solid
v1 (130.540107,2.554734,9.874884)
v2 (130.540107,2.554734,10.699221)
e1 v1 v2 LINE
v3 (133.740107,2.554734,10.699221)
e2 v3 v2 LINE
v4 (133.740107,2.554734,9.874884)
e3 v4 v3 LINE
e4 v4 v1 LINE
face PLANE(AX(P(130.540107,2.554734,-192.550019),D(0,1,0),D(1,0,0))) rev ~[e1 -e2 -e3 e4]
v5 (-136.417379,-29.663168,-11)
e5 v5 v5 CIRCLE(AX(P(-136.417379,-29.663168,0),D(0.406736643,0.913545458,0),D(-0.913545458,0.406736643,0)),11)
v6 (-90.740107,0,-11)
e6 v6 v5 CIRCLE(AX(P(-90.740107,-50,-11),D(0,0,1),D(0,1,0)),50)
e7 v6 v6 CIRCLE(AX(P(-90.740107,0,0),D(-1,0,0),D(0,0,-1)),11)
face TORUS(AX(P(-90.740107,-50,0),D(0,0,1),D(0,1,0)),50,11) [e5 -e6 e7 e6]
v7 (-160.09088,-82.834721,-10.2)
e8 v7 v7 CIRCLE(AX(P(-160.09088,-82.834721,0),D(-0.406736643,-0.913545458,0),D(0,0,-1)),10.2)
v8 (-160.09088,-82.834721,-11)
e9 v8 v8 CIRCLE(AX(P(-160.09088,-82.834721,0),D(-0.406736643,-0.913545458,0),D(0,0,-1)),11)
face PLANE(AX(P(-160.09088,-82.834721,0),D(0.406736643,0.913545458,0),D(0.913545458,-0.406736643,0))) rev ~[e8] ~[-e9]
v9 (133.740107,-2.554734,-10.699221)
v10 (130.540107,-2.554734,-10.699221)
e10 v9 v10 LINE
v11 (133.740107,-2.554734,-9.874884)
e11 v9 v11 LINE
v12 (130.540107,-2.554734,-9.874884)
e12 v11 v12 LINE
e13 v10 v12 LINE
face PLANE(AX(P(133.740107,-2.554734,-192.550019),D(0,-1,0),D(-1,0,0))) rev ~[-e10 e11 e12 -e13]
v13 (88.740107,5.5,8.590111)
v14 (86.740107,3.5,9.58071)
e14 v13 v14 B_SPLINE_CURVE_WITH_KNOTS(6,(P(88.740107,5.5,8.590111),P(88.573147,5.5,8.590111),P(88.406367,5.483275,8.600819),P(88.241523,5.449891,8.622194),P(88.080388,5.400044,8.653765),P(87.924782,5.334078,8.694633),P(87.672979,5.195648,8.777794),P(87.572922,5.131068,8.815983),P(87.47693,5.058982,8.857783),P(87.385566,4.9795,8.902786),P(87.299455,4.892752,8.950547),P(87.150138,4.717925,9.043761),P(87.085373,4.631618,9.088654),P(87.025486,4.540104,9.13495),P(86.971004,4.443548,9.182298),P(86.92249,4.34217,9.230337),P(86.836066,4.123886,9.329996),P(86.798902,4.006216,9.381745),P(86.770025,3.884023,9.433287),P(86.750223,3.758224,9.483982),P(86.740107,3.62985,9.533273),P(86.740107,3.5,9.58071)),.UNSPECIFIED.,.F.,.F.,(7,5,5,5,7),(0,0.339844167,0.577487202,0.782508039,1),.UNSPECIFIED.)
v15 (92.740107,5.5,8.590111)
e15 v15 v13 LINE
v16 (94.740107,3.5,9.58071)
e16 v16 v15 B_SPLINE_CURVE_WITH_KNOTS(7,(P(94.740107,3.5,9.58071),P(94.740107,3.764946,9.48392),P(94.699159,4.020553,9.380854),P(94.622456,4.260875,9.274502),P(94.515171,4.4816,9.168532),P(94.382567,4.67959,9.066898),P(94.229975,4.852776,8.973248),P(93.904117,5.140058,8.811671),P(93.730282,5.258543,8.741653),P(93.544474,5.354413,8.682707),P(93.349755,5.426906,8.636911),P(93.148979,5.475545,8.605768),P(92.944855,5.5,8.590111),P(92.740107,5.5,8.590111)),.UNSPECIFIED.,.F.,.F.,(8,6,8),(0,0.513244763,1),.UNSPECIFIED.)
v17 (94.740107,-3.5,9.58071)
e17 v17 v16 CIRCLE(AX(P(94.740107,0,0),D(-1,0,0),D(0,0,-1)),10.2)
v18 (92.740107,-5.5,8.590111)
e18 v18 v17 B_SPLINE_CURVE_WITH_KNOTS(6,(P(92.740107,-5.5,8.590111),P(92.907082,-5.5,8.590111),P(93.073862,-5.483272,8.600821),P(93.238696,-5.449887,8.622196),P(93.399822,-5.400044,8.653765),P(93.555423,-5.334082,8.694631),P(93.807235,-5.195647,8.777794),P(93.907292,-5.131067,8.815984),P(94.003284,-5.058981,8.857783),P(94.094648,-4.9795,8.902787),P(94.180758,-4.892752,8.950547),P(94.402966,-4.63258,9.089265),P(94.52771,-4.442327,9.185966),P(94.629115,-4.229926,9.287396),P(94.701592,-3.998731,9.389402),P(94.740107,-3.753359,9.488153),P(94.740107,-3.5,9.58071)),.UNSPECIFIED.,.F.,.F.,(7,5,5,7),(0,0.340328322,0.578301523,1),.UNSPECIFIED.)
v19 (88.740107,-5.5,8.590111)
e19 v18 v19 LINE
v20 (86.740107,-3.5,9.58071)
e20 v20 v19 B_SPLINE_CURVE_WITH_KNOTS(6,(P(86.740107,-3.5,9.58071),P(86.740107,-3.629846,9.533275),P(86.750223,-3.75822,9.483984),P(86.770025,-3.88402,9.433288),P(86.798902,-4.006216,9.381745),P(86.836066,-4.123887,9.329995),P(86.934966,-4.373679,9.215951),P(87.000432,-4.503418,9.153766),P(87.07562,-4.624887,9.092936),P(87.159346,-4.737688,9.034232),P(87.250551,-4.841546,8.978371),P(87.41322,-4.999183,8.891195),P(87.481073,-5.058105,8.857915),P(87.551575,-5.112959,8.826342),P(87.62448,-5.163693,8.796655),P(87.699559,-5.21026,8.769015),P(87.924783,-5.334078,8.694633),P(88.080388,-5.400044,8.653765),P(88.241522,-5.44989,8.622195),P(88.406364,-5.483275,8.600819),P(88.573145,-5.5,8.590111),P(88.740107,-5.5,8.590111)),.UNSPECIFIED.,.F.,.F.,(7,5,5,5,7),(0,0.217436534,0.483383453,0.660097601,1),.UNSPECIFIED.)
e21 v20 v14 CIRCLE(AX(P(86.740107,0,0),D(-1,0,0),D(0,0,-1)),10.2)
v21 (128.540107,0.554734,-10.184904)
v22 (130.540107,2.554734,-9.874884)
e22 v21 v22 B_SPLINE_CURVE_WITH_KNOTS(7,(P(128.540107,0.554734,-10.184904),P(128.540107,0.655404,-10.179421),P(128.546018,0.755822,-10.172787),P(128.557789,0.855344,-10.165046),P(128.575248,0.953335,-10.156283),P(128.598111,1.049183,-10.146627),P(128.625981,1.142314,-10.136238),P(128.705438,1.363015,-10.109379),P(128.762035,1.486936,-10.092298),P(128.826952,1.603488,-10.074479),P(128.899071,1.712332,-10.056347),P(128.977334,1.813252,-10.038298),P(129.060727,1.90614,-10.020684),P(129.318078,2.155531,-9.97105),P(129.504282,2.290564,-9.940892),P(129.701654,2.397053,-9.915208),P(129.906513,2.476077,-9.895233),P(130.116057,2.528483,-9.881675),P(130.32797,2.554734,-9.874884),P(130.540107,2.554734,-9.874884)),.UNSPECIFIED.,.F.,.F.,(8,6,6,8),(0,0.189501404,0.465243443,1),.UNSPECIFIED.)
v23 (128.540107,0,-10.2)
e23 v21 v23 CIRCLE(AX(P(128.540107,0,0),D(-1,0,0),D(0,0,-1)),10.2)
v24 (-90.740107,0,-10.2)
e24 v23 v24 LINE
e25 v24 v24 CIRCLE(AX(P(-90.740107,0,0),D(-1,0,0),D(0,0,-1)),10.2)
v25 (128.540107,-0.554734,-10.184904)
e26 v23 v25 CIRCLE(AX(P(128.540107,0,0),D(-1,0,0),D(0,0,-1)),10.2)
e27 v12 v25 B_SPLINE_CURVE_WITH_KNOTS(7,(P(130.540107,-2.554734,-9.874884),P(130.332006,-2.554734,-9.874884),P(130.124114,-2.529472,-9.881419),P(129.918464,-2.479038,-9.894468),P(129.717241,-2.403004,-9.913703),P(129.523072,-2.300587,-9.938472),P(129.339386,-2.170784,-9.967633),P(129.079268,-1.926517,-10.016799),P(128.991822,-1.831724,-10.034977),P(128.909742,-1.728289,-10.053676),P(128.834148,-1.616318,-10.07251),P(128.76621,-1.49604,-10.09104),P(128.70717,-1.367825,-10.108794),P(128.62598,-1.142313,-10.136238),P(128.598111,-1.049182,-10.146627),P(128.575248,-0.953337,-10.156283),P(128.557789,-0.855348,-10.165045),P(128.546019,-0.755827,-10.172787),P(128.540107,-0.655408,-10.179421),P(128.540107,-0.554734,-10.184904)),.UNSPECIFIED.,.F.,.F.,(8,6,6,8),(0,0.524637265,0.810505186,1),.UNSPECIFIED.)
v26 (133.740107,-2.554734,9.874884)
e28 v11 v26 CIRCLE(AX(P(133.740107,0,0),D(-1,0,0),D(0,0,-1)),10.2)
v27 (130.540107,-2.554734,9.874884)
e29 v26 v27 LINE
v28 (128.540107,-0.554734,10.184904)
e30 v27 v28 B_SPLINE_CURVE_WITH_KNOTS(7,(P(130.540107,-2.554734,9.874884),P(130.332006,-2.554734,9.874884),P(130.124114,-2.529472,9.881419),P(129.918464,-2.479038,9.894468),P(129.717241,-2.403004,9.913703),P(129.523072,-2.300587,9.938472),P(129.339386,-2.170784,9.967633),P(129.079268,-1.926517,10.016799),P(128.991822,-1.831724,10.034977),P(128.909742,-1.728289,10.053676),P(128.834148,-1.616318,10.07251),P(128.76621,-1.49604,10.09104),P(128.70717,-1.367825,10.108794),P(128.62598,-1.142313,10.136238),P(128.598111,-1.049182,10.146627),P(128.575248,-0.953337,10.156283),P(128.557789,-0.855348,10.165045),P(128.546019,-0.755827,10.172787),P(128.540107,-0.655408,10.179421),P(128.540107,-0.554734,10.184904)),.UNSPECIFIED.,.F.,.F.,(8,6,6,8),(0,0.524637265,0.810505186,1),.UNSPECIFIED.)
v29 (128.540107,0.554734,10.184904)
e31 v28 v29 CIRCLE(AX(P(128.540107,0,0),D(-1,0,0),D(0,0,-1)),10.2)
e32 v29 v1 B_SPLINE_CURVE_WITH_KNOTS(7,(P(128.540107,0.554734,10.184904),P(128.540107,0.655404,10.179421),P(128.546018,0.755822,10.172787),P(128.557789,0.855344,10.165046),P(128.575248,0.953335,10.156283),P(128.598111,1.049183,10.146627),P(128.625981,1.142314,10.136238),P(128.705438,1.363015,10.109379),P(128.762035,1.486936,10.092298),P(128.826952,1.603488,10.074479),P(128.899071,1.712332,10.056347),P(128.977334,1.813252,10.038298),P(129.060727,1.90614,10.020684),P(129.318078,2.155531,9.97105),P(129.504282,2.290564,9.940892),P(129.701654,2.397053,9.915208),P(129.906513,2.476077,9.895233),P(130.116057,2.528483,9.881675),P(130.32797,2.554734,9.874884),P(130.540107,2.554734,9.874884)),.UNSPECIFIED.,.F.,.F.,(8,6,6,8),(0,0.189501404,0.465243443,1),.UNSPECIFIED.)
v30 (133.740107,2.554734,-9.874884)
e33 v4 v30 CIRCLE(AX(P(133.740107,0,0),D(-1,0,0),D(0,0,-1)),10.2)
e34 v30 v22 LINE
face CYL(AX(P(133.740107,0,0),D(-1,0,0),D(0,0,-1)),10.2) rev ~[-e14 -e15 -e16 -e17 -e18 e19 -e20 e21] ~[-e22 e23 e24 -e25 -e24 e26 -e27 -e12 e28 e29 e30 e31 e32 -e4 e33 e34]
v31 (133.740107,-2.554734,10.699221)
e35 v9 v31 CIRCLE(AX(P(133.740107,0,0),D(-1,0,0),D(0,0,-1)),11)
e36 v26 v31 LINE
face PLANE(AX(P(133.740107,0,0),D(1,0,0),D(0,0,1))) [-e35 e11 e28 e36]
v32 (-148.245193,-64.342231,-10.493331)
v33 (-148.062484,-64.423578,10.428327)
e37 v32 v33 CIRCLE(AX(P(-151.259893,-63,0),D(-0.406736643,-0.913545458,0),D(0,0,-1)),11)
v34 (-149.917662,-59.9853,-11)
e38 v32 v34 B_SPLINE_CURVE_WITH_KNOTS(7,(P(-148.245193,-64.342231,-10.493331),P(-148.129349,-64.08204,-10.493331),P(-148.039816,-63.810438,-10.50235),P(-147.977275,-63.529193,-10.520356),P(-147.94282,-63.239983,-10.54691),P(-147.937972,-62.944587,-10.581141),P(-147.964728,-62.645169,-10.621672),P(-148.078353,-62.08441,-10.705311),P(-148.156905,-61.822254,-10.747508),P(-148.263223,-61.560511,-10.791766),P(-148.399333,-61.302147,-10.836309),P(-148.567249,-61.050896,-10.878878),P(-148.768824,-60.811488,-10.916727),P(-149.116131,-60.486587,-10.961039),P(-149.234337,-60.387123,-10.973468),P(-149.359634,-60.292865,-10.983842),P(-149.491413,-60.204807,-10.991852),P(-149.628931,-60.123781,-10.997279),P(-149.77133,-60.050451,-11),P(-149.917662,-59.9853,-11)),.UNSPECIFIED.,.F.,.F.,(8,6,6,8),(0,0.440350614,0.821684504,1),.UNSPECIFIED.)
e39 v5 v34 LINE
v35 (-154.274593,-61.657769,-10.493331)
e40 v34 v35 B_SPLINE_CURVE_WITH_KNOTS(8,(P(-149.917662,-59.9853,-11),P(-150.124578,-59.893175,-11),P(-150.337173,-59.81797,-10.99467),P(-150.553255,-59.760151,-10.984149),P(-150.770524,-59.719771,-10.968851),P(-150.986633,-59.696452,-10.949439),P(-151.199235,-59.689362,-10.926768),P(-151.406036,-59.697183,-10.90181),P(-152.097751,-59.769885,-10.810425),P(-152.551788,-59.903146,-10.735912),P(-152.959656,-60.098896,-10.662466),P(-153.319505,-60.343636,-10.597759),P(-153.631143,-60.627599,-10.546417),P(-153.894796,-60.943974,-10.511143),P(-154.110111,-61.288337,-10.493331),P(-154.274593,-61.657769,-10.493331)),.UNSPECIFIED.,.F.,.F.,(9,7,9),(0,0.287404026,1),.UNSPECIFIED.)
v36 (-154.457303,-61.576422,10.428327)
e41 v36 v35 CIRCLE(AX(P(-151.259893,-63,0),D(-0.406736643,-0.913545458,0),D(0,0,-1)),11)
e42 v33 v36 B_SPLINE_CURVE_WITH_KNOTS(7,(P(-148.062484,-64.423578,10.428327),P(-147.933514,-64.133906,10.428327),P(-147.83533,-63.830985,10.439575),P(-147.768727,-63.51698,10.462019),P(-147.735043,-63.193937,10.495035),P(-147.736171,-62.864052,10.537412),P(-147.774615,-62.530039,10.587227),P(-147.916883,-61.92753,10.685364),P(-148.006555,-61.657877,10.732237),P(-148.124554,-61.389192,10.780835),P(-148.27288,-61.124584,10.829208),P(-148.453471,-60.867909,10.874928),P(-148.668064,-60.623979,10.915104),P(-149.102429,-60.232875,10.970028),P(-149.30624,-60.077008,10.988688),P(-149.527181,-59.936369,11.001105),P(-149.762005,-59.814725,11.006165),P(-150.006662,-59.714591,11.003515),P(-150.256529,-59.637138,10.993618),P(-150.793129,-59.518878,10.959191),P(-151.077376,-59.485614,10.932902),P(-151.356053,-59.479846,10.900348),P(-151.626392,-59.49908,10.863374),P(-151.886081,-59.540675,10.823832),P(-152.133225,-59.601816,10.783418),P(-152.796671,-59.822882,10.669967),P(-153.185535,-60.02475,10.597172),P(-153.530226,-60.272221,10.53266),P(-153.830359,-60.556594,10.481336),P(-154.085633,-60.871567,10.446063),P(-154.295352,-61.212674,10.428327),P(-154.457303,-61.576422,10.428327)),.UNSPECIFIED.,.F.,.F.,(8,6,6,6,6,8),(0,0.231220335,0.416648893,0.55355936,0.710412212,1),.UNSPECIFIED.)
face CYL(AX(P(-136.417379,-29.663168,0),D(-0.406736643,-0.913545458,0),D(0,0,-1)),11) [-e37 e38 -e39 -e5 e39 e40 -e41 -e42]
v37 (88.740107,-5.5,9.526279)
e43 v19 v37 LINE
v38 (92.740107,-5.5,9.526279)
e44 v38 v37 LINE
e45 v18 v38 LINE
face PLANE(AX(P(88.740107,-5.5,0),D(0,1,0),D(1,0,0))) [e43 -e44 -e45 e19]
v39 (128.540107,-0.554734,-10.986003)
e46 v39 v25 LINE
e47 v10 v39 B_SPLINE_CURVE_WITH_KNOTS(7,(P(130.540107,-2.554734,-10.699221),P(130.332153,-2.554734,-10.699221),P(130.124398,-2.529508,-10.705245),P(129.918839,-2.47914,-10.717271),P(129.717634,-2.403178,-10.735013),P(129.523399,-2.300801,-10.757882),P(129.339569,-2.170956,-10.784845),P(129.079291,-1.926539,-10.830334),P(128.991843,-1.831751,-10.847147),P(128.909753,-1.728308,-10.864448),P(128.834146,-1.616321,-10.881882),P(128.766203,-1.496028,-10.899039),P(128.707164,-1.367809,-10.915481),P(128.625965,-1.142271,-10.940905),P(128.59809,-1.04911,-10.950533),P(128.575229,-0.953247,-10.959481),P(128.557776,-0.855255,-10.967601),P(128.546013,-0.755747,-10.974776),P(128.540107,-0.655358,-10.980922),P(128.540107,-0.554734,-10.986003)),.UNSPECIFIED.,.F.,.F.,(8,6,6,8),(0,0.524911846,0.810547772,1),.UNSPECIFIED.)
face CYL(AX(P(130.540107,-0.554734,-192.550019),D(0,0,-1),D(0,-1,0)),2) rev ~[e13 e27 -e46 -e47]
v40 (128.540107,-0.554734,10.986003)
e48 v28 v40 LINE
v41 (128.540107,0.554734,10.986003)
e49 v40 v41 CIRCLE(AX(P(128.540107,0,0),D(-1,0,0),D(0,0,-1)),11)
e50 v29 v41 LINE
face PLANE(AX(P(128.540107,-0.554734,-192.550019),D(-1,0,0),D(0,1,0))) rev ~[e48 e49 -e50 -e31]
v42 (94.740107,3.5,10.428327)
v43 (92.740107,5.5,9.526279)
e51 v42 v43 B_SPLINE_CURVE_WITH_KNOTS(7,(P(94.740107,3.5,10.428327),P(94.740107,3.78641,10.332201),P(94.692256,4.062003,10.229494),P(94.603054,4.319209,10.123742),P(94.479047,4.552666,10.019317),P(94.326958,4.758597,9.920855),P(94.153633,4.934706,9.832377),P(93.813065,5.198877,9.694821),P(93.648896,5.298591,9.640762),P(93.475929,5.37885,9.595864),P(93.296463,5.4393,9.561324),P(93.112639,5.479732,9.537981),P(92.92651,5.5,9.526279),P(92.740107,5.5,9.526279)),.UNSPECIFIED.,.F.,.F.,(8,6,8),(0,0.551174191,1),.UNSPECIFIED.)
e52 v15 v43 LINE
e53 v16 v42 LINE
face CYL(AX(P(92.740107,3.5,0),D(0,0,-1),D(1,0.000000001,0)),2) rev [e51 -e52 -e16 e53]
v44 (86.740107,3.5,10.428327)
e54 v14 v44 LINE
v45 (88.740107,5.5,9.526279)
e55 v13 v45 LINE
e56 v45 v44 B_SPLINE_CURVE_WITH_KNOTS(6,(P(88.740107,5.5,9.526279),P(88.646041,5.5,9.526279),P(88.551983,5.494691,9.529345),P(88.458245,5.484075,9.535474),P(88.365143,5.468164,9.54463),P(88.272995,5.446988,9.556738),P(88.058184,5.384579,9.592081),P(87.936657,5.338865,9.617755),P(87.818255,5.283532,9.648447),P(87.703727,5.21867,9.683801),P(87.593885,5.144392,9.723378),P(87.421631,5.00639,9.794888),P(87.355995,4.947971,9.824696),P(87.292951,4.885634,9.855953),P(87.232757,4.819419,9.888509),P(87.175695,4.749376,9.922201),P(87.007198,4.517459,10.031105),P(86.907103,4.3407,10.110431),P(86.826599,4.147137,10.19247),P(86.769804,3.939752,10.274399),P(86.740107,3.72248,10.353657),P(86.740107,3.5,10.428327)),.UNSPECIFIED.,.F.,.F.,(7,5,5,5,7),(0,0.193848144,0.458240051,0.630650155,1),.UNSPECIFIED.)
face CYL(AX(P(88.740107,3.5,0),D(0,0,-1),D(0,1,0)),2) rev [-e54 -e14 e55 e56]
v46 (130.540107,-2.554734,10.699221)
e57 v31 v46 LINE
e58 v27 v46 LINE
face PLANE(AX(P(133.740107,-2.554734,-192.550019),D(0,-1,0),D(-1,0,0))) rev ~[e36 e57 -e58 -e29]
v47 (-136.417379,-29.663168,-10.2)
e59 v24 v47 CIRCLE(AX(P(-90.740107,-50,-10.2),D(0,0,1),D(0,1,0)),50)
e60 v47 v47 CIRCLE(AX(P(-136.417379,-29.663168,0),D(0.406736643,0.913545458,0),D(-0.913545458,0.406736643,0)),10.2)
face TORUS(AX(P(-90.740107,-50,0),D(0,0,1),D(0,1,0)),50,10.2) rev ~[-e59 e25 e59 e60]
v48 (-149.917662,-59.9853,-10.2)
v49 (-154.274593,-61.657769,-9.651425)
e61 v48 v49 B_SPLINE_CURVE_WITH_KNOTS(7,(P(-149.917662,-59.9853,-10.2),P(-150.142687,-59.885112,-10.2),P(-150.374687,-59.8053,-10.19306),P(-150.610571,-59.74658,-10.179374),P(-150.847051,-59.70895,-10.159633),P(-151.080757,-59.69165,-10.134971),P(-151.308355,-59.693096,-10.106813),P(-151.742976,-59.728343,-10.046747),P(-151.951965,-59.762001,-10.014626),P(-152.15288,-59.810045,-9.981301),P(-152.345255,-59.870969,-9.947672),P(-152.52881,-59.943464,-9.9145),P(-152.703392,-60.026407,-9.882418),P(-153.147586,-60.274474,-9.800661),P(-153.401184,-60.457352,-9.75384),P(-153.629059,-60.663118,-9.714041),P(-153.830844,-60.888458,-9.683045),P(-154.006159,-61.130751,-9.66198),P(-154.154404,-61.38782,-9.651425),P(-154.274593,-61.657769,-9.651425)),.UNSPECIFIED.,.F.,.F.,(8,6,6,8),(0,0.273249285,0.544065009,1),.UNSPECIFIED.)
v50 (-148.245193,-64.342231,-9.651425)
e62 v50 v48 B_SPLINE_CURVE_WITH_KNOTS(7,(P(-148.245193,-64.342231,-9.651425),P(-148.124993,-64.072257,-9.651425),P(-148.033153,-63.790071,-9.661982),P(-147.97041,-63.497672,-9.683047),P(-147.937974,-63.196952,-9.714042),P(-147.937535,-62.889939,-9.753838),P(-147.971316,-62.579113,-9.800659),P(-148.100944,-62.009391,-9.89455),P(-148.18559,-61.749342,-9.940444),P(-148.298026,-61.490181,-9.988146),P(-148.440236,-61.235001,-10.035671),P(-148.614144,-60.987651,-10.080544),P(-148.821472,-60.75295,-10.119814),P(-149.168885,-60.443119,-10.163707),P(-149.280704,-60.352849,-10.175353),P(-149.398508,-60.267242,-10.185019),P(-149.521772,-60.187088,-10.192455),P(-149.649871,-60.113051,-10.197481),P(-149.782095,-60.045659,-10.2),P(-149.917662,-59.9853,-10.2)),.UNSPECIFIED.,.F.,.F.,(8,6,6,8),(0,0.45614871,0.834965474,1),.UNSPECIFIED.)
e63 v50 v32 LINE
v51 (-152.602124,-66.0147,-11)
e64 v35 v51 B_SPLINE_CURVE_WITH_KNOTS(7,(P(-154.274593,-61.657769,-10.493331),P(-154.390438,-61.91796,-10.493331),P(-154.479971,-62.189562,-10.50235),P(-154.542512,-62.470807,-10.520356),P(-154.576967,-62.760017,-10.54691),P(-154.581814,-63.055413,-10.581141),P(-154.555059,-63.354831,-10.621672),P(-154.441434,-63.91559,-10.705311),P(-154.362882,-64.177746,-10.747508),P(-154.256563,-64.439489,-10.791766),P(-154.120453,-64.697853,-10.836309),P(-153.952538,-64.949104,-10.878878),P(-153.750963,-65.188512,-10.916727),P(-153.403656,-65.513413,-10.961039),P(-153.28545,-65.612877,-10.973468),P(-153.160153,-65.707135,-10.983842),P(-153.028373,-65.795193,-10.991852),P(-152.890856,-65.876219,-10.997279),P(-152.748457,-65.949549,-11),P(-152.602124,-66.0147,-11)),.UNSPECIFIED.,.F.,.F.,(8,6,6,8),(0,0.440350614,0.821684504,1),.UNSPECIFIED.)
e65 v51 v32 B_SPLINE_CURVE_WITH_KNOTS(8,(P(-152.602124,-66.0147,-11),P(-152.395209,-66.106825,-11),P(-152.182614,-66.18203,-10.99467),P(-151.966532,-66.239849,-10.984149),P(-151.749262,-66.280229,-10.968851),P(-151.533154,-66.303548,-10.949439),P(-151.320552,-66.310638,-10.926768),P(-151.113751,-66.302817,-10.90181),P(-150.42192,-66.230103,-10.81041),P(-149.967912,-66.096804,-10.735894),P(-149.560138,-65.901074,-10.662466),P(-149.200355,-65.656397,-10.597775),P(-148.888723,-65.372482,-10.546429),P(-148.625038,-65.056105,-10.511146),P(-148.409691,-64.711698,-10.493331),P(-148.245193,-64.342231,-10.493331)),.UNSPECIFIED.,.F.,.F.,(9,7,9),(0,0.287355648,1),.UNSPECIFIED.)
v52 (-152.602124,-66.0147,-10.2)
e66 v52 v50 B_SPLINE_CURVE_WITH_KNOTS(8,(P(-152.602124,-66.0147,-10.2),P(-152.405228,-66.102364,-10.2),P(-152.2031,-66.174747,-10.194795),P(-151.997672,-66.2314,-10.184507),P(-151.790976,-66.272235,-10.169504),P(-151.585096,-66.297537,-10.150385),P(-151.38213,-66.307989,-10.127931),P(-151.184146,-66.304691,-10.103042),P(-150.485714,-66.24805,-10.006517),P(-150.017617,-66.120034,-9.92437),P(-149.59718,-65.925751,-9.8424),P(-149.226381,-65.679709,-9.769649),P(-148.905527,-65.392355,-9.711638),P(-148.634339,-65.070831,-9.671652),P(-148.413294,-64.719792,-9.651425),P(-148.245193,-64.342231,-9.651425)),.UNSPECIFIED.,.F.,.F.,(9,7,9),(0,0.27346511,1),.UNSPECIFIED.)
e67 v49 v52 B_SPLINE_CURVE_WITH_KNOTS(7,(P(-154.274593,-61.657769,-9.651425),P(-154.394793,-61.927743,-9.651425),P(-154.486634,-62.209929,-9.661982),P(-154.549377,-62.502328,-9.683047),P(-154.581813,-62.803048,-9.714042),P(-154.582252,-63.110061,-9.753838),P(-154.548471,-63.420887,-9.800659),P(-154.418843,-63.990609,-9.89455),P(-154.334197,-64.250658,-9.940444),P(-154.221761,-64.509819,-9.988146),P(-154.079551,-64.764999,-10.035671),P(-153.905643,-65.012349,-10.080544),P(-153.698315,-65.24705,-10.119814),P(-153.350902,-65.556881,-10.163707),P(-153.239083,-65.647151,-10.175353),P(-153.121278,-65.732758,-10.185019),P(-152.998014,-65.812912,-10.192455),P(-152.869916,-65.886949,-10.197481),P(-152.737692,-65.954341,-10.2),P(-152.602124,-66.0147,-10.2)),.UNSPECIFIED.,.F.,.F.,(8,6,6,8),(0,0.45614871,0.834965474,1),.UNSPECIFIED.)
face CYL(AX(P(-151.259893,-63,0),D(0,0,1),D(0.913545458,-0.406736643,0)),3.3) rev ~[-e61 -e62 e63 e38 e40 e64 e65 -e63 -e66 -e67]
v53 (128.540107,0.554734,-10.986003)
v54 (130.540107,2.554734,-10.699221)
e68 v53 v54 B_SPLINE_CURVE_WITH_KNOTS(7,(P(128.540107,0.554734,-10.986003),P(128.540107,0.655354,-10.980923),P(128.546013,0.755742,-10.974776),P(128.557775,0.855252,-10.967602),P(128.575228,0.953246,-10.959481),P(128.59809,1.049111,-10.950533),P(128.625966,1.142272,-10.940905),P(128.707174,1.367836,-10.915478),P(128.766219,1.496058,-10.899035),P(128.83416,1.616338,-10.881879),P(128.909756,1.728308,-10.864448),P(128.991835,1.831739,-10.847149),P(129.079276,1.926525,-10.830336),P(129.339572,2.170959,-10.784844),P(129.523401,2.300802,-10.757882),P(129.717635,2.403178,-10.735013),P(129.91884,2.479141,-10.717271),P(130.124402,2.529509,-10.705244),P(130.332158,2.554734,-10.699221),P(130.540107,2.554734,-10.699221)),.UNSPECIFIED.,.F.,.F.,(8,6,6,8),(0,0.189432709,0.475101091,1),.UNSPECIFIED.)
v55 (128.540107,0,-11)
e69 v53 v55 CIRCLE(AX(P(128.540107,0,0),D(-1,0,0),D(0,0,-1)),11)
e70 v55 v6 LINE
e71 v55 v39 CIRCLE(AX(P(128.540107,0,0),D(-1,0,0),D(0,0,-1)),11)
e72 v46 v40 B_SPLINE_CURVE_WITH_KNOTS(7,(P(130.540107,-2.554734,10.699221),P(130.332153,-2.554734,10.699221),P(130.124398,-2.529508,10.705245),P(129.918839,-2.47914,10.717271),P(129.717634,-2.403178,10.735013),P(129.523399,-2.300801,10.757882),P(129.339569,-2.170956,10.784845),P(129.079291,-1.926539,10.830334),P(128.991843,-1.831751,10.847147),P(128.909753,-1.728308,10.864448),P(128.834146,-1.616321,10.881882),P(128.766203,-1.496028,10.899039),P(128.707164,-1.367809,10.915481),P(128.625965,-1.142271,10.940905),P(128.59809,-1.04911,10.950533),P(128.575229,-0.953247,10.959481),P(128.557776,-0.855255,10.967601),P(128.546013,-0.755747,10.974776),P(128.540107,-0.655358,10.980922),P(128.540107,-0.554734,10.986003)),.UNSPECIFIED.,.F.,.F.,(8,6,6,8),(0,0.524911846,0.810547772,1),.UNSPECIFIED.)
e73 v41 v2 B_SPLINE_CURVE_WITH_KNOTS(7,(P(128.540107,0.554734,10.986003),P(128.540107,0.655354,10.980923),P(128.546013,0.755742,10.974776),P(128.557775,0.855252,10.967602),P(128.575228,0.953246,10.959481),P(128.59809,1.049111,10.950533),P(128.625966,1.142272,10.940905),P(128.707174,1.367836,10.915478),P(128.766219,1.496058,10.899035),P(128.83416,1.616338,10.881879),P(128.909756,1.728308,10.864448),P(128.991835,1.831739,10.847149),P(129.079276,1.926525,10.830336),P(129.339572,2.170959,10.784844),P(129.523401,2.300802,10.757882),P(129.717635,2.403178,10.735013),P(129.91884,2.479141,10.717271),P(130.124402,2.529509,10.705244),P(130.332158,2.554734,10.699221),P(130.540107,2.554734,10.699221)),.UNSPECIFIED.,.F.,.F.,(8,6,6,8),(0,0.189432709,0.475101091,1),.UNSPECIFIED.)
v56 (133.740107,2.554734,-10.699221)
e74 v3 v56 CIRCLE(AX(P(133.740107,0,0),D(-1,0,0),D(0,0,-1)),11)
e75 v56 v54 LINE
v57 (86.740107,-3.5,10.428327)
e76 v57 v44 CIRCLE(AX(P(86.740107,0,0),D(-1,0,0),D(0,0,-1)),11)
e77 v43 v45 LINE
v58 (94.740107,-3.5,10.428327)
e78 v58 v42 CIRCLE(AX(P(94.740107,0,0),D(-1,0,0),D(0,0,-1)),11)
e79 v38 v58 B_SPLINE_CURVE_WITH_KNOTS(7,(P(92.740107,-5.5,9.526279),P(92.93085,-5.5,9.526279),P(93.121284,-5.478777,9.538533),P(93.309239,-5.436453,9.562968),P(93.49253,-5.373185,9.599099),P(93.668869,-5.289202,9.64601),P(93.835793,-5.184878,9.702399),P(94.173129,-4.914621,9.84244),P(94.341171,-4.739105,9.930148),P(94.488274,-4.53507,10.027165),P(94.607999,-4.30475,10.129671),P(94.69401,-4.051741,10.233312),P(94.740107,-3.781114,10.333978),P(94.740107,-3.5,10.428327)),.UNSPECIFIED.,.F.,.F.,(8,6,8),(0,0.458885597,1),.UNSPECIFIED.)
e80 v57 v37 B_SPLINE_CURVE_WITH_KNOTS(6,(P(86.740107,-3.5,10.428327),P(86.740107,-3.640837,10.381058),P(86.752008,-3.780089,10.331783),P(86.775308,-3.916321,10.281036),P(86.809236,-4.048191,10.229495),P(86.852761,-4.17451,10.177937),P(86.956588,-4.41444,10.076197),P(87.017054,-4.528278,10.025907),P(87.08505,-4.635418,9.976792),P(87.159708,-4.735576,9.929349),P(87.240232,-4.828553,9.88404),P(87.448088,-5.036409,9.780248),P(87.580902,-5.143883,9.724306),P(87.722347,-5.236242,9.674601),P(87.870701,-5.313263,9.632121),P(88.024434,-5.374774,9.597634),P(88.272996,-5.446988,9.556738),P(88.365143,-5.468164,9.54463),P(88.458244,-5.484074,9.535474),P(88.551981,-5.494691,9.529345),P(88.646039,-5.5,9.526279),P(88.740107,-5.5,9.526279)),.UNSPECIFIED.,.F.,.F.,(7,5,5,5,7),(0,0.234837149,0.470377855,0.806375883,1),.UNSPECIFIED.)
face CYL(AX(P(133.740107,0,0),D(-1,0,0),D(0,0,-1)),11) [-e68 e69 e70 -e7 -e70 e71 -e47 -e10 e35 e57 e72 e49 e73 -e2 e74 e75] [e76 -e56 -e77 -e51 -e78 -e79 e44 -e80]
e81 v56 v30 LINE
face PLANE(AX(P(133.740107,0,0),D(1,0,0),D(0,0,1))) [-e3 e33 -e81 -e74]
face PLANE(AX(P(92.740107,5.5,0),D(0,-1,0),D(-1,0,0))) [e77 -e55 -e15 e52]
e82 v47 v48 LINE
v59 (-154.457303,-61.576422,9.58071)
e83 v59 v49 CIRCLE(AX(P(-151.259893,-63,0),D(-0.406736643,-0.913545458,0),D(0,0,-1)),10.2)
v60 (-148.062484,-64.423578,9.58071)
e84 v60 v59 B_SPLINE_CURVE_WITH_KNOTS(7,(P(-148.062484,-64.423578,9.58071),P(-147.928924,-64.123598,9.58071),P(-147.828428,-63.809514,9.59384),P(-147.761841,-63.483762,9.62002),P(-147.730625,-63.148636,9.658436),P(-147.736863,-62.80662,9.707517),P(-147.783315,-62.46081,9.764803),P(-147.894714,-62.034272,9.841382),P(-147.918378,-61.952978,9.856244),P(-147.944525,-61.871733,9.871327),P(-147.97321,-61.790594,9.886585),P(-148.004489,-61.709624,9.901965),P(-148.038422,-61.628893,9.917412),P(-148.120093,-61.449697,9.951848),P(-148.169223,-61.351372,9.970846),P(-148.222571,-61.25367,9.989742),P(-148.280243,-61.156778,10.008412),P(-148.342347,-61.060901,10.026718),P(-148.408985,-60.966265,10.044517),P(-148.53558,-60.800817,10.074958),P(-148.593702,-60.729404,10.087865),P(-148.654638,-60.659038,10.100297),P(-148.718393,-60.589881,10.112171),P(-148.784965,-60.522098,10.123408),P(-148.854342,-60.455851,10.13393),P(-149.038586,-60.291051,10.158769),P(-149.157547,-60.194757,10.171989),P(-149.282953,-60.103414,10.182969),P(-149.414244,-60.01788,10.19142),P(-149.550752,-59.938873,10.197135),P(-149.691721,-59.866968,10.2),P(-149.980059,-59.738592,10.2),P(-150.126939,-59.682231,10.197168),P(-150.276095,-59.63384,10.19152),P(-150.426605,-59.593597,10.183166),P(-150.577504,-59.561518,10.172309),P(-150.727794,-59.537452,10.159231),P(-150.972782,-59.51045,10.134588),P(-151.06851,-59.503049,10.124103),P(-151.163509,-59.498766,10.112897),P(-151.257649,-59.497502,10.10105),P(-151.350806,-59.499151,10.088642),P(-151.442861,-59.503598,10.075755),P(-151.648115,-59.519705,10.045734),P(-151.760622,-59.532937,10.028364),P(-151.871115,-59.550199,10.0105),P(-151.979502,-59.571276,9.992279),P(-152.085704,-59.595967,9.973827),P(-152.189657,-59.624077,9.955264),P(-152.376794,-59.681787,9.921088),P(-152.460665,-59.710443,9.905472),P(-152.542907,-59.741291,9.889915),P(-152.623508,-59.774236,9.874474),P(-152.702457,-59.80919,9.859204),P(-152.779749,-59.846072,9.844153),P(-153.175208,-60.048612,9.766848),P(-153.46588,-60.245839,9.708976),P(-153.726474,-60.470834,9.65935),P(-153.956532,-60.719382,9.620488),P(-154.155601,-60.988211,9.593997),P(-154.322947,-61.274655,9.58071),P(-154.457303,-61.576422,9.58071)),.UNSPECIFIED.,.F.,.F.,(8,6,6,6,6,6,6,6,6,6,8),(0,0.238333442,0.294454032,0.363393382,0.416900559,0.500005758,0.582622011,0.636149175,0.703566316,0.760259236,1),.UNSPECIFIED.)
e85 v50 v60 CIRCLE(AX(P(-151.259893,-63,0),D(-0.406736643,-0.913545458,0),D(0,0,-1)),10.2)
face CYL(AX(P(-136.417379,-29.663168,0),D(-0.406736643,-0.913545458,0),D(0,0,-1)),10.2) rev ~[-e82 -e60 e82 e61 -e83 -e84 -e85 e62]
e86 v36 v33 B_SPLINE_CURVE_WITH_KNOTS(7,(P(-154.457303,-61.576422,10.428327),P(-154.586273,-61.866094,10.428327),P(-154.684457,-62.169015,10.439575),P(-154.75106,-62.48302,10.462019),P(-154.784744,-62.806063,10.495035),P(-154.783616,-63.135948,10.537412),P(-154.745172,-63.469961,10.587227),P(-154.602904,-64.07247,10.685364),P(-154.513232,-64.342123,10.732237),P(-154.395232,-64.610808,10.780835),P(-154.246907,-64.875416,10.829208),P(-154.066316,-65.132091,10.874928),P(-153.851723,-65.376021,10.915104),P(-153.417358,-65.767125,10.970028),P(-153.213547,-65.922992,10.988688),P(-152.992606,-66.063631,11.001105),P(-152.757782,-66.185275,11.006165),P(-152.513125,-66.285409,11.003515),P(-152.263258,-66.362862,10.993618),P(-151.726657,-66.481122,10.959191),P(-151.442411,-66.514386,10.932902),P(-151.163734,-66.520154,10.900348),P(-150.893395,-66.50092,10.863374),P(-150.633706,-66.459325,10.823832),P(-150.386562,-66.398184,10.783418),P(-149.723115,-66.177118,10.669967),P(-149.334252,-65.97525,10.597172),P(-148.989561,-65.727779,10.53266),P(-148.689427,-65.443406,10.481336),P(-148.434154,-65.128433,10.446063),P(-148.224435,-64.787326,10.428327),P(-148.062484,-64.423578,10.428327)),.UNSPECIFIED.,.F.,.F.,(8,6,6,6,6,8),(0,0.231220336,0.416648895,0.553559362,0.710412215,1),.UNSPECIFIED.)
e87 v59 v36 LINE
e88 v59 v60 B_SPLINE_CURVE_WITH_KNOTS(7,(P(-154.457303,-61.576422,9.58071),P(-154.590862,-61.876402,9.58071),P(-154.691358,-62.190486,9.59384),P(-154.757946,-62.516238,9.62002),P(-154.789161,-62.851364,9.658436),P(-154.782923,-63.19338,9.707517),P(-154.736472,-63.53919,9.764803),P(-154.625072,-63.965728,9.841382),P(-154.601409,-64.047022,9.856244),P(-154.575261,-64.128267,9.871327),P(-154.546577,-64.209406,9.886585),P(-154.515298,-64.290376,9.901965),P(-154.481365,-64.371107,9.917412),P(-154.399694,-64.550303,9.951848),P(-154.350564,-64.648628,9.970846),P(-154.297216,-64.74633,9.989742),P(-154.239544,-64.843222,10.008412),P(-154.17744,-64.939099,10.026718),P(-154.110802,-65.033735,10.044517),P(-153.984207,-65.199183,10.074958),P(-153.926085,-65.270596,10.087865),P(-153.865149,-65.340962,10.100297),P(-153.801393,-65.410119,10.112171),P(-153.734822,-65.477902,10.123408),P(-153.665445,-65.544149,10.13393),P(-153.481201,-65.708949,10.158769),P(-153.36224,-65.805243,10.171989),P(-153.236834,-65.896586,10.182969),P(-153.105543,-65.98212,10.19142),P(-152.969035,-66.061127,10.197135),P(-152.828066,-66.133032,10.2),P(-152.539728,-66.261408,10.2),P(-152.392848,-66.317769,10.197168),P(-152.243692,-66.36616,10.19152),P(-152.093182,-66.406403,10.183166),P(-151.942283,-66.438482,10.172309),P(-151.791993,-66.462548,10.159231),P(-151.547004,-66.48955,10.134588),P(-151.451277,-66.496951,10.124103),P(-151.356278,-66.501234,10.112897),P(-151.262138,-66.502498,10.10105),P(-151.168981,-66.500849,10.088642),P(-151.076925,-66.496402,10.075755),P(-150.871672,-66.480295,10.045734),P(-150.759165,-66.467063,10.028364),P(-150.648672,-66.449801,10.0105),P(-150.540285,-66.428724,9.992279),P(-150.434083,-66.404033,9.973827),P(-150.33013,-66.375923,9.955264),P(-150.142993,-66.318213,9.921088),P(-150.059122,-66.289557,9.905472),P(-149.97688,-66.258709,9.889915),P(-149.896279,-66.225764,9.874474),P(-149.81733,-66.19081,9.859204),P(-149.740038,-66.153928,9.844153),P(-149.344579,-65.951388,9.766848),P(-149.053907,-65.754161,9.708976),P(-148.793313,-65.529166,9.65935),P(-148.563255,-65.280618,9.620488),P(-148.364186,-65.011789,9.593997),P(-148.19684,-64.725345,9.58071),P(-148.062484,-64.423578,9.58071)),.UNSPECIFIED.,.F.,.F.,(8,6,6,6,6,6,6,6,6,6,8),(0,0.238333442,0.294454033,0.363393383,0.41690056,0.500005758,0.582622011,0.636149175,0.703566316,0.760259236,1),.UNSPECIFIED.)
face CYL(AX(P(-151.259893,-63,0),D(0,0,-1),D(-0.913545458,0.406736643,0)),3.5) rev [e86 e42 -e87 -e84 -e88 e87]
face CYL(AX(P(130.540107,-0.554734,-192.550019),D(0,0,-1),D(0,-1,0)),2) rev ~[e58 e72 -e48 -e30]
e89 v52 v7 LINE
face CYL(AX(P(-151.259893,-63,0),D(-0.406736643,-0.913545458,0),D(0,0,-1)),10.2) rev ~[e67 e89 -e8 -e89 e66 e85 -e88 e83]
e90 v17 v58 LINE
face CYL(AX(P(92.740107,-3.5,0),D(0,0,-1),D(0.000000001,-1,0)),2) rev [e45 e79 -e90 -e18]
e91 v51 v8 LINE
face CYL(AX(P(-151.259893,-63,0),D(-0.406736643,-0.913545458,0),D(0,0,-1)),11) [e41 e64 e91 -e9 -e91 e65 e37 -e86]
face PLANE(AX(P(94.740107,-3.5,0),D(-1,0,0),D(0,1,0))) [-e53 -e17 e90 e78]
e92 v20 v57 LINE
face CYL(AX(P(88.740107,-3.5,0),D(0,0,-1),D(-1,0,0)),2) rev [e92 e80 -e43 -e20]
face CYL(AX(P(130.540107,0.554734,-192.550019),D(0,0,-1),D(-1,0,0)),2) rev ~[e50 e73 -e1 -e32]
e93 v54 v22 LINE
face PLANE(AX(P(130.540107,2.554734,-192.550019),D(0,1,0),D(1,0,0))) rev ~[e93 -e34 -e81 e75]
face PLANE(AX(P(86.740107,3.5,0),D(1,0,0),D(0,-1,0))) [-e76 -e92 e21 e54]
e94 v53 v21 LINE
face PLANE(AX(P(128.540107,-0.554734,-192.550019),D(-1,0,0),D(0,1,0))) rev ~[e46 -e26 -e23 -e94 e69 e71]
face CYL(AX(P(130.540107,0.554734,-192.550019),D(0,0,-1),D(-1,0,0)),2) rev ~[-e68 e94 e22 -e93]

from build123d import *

# Parameters (mm, degrees)
SKETCH3_R               = 11
SKETCH3_R_2             = 10.2
CUT_EXTRUDE1_REACH      = 193.55
SKETCH4_R               = 3.5
SKETCH5_R               = 3.3
CUT_EXTRUDE2_DEPTH      = 192.550018952
CUT_EXTRUDE3_DEPTH      = 192.550018952
CUT_EXTRUDE3_DEPTH_BACK = 192.550018952


with BuildPart() as part:
    # Sweep2: sweep along a path in Sketch1
    with BuildLine(Plane.XY) as sweep2_path:
        Line((133.740106583, 0), (90.740106583, 0))
        Line((90.740106583, 0), (-90.740106583, 0))
        ThreePointArc((-90.740106583, 0), (-117.972058334, -8.066471603), (-136.417379465, -29.663167846))
        Line((-136.417379465, -29.663167846), (-151.259893417, -63))
        Line((-151.259893417, -63), (-160.090880321, -82.834721336))
    # Sketch3 → Sweep2 (sweep)
    with BuildSketch(Plane(origin=(90.740106583, 0, 0), x_dir=(0, 0, -1), z_dir=(1, 0, 0))):
        Circle(SKETCH3_R)
        Circle(SKETCH3_R_2, mode=Mode.SUBTRACT)
    sweep(path=sweep2_path.line)

    # Sketch4 → Cut-Extrude1 (cut, up to next)
    with BuildSketch(Plane.XY, mode=Mode.PRIVATE) as cut_extrude1_sk1:
        with Locations((-151.259893417, -63)):
            Circle(SKETCH4_R)
    cut_extrude1_tool1 = extrude(cut_extrude1_sk1.sketch, amount=CUT_EXTRUDE1_REACH, mode=Mode.PRIVATE) & part.part
    # Sketch4 → Cut-Extrude1 (cut, up to next)
    with BuildSketch(Plane.XY, mode=Mode.PRIVATE) as cut_extrude1_sk2:
        with BuildLine():
            Line((88.740106583, -5.5), (92.740106583, -5.5))
            ThreePointArc((92.740106583, -5.5), (94.154320145, -4.914213562), (94.740106583, -3.5))
            Line((94.740106583, -3.5), (94.740106583, 3.5))
            ThreePointArc((94.740106583, 3.5), (94.154320145, 4.914213562), (92.740106583, 5.5))
            Line((92.740106583, 5.5), (88.740106583, 5.5))
            ThreePointArc((88.740106583, 5.5), (87.32589302, 4.914213562), (86.740106583, 3.5))
            Line((86.740106583, 3.5), (86.740106583, -3.5))
            ThreePointArc((86.740106583, -3.5), (87.32589302, -4.914213562), (88.740106583, -5.5))
        make_face()
    cut_extrude1_tool2 = extrude(cut_extrude1_sk2.sketch, amount=CUT_EXTRUDE1_REACH, mode=Mode.PRIVATE) & part.part
    add(cut_extrude1_tool1.solids().sort_by_distance((-151.259893, -63, 0))[0], mode=Mode.SUBTRACT)
    add(cut_extrude1_tool2.solids().sort_by_distance((90.740107, 0, 0))[0], mode=Mode.SUBTRACT)

    # Sketch5 → Cut-Extrude2 (cut, through all)
    with BuildSketch(Plane.XY):
        with Locations((-151.259893417, -63)):
            Circle(SKETCH5_R)
    extrude(amount=-CUT_EXTRUDE2_DEPTH, mode=Mode.SUBTRACT)

    # Sketch6 → Cut-Extrude3 (cut, two sides: drawn at the far end of the back side and taken through both)
    with BuildSketch(Plane.XY.offset(-CUT_EXTRUDE3_DEPTH_BACK)):
        with BuildLine():
            Line((133.813892638, 2.554733627), (133.740106583, -2.554733627))
            Line((133.740106583, -2.554733627), (130.540106583, -2.554733627))
            ThreePointArc((130.540106583, -2.554733627), (129.12589302, -1.968947189), (128.540106583, -0.554733627))
            Line((128.540106583, -0.554733627), (128.540106583, 0.554733627))
            ThreePointArc((128.540106583, 0.554733627), (129.12589302, 1.968947189), (130.540106583, 2.554733627))
            Line((130.540106583, 2.554733627), (133.813892638, 2.554733627))
        make_face()
    extrude(amount=CUT_EXTRUDE3_DEPTH + CUT_EXTRUDE3_DEPTH_BACK, mode=Mode.SUBTRACT)


solid = part.part
